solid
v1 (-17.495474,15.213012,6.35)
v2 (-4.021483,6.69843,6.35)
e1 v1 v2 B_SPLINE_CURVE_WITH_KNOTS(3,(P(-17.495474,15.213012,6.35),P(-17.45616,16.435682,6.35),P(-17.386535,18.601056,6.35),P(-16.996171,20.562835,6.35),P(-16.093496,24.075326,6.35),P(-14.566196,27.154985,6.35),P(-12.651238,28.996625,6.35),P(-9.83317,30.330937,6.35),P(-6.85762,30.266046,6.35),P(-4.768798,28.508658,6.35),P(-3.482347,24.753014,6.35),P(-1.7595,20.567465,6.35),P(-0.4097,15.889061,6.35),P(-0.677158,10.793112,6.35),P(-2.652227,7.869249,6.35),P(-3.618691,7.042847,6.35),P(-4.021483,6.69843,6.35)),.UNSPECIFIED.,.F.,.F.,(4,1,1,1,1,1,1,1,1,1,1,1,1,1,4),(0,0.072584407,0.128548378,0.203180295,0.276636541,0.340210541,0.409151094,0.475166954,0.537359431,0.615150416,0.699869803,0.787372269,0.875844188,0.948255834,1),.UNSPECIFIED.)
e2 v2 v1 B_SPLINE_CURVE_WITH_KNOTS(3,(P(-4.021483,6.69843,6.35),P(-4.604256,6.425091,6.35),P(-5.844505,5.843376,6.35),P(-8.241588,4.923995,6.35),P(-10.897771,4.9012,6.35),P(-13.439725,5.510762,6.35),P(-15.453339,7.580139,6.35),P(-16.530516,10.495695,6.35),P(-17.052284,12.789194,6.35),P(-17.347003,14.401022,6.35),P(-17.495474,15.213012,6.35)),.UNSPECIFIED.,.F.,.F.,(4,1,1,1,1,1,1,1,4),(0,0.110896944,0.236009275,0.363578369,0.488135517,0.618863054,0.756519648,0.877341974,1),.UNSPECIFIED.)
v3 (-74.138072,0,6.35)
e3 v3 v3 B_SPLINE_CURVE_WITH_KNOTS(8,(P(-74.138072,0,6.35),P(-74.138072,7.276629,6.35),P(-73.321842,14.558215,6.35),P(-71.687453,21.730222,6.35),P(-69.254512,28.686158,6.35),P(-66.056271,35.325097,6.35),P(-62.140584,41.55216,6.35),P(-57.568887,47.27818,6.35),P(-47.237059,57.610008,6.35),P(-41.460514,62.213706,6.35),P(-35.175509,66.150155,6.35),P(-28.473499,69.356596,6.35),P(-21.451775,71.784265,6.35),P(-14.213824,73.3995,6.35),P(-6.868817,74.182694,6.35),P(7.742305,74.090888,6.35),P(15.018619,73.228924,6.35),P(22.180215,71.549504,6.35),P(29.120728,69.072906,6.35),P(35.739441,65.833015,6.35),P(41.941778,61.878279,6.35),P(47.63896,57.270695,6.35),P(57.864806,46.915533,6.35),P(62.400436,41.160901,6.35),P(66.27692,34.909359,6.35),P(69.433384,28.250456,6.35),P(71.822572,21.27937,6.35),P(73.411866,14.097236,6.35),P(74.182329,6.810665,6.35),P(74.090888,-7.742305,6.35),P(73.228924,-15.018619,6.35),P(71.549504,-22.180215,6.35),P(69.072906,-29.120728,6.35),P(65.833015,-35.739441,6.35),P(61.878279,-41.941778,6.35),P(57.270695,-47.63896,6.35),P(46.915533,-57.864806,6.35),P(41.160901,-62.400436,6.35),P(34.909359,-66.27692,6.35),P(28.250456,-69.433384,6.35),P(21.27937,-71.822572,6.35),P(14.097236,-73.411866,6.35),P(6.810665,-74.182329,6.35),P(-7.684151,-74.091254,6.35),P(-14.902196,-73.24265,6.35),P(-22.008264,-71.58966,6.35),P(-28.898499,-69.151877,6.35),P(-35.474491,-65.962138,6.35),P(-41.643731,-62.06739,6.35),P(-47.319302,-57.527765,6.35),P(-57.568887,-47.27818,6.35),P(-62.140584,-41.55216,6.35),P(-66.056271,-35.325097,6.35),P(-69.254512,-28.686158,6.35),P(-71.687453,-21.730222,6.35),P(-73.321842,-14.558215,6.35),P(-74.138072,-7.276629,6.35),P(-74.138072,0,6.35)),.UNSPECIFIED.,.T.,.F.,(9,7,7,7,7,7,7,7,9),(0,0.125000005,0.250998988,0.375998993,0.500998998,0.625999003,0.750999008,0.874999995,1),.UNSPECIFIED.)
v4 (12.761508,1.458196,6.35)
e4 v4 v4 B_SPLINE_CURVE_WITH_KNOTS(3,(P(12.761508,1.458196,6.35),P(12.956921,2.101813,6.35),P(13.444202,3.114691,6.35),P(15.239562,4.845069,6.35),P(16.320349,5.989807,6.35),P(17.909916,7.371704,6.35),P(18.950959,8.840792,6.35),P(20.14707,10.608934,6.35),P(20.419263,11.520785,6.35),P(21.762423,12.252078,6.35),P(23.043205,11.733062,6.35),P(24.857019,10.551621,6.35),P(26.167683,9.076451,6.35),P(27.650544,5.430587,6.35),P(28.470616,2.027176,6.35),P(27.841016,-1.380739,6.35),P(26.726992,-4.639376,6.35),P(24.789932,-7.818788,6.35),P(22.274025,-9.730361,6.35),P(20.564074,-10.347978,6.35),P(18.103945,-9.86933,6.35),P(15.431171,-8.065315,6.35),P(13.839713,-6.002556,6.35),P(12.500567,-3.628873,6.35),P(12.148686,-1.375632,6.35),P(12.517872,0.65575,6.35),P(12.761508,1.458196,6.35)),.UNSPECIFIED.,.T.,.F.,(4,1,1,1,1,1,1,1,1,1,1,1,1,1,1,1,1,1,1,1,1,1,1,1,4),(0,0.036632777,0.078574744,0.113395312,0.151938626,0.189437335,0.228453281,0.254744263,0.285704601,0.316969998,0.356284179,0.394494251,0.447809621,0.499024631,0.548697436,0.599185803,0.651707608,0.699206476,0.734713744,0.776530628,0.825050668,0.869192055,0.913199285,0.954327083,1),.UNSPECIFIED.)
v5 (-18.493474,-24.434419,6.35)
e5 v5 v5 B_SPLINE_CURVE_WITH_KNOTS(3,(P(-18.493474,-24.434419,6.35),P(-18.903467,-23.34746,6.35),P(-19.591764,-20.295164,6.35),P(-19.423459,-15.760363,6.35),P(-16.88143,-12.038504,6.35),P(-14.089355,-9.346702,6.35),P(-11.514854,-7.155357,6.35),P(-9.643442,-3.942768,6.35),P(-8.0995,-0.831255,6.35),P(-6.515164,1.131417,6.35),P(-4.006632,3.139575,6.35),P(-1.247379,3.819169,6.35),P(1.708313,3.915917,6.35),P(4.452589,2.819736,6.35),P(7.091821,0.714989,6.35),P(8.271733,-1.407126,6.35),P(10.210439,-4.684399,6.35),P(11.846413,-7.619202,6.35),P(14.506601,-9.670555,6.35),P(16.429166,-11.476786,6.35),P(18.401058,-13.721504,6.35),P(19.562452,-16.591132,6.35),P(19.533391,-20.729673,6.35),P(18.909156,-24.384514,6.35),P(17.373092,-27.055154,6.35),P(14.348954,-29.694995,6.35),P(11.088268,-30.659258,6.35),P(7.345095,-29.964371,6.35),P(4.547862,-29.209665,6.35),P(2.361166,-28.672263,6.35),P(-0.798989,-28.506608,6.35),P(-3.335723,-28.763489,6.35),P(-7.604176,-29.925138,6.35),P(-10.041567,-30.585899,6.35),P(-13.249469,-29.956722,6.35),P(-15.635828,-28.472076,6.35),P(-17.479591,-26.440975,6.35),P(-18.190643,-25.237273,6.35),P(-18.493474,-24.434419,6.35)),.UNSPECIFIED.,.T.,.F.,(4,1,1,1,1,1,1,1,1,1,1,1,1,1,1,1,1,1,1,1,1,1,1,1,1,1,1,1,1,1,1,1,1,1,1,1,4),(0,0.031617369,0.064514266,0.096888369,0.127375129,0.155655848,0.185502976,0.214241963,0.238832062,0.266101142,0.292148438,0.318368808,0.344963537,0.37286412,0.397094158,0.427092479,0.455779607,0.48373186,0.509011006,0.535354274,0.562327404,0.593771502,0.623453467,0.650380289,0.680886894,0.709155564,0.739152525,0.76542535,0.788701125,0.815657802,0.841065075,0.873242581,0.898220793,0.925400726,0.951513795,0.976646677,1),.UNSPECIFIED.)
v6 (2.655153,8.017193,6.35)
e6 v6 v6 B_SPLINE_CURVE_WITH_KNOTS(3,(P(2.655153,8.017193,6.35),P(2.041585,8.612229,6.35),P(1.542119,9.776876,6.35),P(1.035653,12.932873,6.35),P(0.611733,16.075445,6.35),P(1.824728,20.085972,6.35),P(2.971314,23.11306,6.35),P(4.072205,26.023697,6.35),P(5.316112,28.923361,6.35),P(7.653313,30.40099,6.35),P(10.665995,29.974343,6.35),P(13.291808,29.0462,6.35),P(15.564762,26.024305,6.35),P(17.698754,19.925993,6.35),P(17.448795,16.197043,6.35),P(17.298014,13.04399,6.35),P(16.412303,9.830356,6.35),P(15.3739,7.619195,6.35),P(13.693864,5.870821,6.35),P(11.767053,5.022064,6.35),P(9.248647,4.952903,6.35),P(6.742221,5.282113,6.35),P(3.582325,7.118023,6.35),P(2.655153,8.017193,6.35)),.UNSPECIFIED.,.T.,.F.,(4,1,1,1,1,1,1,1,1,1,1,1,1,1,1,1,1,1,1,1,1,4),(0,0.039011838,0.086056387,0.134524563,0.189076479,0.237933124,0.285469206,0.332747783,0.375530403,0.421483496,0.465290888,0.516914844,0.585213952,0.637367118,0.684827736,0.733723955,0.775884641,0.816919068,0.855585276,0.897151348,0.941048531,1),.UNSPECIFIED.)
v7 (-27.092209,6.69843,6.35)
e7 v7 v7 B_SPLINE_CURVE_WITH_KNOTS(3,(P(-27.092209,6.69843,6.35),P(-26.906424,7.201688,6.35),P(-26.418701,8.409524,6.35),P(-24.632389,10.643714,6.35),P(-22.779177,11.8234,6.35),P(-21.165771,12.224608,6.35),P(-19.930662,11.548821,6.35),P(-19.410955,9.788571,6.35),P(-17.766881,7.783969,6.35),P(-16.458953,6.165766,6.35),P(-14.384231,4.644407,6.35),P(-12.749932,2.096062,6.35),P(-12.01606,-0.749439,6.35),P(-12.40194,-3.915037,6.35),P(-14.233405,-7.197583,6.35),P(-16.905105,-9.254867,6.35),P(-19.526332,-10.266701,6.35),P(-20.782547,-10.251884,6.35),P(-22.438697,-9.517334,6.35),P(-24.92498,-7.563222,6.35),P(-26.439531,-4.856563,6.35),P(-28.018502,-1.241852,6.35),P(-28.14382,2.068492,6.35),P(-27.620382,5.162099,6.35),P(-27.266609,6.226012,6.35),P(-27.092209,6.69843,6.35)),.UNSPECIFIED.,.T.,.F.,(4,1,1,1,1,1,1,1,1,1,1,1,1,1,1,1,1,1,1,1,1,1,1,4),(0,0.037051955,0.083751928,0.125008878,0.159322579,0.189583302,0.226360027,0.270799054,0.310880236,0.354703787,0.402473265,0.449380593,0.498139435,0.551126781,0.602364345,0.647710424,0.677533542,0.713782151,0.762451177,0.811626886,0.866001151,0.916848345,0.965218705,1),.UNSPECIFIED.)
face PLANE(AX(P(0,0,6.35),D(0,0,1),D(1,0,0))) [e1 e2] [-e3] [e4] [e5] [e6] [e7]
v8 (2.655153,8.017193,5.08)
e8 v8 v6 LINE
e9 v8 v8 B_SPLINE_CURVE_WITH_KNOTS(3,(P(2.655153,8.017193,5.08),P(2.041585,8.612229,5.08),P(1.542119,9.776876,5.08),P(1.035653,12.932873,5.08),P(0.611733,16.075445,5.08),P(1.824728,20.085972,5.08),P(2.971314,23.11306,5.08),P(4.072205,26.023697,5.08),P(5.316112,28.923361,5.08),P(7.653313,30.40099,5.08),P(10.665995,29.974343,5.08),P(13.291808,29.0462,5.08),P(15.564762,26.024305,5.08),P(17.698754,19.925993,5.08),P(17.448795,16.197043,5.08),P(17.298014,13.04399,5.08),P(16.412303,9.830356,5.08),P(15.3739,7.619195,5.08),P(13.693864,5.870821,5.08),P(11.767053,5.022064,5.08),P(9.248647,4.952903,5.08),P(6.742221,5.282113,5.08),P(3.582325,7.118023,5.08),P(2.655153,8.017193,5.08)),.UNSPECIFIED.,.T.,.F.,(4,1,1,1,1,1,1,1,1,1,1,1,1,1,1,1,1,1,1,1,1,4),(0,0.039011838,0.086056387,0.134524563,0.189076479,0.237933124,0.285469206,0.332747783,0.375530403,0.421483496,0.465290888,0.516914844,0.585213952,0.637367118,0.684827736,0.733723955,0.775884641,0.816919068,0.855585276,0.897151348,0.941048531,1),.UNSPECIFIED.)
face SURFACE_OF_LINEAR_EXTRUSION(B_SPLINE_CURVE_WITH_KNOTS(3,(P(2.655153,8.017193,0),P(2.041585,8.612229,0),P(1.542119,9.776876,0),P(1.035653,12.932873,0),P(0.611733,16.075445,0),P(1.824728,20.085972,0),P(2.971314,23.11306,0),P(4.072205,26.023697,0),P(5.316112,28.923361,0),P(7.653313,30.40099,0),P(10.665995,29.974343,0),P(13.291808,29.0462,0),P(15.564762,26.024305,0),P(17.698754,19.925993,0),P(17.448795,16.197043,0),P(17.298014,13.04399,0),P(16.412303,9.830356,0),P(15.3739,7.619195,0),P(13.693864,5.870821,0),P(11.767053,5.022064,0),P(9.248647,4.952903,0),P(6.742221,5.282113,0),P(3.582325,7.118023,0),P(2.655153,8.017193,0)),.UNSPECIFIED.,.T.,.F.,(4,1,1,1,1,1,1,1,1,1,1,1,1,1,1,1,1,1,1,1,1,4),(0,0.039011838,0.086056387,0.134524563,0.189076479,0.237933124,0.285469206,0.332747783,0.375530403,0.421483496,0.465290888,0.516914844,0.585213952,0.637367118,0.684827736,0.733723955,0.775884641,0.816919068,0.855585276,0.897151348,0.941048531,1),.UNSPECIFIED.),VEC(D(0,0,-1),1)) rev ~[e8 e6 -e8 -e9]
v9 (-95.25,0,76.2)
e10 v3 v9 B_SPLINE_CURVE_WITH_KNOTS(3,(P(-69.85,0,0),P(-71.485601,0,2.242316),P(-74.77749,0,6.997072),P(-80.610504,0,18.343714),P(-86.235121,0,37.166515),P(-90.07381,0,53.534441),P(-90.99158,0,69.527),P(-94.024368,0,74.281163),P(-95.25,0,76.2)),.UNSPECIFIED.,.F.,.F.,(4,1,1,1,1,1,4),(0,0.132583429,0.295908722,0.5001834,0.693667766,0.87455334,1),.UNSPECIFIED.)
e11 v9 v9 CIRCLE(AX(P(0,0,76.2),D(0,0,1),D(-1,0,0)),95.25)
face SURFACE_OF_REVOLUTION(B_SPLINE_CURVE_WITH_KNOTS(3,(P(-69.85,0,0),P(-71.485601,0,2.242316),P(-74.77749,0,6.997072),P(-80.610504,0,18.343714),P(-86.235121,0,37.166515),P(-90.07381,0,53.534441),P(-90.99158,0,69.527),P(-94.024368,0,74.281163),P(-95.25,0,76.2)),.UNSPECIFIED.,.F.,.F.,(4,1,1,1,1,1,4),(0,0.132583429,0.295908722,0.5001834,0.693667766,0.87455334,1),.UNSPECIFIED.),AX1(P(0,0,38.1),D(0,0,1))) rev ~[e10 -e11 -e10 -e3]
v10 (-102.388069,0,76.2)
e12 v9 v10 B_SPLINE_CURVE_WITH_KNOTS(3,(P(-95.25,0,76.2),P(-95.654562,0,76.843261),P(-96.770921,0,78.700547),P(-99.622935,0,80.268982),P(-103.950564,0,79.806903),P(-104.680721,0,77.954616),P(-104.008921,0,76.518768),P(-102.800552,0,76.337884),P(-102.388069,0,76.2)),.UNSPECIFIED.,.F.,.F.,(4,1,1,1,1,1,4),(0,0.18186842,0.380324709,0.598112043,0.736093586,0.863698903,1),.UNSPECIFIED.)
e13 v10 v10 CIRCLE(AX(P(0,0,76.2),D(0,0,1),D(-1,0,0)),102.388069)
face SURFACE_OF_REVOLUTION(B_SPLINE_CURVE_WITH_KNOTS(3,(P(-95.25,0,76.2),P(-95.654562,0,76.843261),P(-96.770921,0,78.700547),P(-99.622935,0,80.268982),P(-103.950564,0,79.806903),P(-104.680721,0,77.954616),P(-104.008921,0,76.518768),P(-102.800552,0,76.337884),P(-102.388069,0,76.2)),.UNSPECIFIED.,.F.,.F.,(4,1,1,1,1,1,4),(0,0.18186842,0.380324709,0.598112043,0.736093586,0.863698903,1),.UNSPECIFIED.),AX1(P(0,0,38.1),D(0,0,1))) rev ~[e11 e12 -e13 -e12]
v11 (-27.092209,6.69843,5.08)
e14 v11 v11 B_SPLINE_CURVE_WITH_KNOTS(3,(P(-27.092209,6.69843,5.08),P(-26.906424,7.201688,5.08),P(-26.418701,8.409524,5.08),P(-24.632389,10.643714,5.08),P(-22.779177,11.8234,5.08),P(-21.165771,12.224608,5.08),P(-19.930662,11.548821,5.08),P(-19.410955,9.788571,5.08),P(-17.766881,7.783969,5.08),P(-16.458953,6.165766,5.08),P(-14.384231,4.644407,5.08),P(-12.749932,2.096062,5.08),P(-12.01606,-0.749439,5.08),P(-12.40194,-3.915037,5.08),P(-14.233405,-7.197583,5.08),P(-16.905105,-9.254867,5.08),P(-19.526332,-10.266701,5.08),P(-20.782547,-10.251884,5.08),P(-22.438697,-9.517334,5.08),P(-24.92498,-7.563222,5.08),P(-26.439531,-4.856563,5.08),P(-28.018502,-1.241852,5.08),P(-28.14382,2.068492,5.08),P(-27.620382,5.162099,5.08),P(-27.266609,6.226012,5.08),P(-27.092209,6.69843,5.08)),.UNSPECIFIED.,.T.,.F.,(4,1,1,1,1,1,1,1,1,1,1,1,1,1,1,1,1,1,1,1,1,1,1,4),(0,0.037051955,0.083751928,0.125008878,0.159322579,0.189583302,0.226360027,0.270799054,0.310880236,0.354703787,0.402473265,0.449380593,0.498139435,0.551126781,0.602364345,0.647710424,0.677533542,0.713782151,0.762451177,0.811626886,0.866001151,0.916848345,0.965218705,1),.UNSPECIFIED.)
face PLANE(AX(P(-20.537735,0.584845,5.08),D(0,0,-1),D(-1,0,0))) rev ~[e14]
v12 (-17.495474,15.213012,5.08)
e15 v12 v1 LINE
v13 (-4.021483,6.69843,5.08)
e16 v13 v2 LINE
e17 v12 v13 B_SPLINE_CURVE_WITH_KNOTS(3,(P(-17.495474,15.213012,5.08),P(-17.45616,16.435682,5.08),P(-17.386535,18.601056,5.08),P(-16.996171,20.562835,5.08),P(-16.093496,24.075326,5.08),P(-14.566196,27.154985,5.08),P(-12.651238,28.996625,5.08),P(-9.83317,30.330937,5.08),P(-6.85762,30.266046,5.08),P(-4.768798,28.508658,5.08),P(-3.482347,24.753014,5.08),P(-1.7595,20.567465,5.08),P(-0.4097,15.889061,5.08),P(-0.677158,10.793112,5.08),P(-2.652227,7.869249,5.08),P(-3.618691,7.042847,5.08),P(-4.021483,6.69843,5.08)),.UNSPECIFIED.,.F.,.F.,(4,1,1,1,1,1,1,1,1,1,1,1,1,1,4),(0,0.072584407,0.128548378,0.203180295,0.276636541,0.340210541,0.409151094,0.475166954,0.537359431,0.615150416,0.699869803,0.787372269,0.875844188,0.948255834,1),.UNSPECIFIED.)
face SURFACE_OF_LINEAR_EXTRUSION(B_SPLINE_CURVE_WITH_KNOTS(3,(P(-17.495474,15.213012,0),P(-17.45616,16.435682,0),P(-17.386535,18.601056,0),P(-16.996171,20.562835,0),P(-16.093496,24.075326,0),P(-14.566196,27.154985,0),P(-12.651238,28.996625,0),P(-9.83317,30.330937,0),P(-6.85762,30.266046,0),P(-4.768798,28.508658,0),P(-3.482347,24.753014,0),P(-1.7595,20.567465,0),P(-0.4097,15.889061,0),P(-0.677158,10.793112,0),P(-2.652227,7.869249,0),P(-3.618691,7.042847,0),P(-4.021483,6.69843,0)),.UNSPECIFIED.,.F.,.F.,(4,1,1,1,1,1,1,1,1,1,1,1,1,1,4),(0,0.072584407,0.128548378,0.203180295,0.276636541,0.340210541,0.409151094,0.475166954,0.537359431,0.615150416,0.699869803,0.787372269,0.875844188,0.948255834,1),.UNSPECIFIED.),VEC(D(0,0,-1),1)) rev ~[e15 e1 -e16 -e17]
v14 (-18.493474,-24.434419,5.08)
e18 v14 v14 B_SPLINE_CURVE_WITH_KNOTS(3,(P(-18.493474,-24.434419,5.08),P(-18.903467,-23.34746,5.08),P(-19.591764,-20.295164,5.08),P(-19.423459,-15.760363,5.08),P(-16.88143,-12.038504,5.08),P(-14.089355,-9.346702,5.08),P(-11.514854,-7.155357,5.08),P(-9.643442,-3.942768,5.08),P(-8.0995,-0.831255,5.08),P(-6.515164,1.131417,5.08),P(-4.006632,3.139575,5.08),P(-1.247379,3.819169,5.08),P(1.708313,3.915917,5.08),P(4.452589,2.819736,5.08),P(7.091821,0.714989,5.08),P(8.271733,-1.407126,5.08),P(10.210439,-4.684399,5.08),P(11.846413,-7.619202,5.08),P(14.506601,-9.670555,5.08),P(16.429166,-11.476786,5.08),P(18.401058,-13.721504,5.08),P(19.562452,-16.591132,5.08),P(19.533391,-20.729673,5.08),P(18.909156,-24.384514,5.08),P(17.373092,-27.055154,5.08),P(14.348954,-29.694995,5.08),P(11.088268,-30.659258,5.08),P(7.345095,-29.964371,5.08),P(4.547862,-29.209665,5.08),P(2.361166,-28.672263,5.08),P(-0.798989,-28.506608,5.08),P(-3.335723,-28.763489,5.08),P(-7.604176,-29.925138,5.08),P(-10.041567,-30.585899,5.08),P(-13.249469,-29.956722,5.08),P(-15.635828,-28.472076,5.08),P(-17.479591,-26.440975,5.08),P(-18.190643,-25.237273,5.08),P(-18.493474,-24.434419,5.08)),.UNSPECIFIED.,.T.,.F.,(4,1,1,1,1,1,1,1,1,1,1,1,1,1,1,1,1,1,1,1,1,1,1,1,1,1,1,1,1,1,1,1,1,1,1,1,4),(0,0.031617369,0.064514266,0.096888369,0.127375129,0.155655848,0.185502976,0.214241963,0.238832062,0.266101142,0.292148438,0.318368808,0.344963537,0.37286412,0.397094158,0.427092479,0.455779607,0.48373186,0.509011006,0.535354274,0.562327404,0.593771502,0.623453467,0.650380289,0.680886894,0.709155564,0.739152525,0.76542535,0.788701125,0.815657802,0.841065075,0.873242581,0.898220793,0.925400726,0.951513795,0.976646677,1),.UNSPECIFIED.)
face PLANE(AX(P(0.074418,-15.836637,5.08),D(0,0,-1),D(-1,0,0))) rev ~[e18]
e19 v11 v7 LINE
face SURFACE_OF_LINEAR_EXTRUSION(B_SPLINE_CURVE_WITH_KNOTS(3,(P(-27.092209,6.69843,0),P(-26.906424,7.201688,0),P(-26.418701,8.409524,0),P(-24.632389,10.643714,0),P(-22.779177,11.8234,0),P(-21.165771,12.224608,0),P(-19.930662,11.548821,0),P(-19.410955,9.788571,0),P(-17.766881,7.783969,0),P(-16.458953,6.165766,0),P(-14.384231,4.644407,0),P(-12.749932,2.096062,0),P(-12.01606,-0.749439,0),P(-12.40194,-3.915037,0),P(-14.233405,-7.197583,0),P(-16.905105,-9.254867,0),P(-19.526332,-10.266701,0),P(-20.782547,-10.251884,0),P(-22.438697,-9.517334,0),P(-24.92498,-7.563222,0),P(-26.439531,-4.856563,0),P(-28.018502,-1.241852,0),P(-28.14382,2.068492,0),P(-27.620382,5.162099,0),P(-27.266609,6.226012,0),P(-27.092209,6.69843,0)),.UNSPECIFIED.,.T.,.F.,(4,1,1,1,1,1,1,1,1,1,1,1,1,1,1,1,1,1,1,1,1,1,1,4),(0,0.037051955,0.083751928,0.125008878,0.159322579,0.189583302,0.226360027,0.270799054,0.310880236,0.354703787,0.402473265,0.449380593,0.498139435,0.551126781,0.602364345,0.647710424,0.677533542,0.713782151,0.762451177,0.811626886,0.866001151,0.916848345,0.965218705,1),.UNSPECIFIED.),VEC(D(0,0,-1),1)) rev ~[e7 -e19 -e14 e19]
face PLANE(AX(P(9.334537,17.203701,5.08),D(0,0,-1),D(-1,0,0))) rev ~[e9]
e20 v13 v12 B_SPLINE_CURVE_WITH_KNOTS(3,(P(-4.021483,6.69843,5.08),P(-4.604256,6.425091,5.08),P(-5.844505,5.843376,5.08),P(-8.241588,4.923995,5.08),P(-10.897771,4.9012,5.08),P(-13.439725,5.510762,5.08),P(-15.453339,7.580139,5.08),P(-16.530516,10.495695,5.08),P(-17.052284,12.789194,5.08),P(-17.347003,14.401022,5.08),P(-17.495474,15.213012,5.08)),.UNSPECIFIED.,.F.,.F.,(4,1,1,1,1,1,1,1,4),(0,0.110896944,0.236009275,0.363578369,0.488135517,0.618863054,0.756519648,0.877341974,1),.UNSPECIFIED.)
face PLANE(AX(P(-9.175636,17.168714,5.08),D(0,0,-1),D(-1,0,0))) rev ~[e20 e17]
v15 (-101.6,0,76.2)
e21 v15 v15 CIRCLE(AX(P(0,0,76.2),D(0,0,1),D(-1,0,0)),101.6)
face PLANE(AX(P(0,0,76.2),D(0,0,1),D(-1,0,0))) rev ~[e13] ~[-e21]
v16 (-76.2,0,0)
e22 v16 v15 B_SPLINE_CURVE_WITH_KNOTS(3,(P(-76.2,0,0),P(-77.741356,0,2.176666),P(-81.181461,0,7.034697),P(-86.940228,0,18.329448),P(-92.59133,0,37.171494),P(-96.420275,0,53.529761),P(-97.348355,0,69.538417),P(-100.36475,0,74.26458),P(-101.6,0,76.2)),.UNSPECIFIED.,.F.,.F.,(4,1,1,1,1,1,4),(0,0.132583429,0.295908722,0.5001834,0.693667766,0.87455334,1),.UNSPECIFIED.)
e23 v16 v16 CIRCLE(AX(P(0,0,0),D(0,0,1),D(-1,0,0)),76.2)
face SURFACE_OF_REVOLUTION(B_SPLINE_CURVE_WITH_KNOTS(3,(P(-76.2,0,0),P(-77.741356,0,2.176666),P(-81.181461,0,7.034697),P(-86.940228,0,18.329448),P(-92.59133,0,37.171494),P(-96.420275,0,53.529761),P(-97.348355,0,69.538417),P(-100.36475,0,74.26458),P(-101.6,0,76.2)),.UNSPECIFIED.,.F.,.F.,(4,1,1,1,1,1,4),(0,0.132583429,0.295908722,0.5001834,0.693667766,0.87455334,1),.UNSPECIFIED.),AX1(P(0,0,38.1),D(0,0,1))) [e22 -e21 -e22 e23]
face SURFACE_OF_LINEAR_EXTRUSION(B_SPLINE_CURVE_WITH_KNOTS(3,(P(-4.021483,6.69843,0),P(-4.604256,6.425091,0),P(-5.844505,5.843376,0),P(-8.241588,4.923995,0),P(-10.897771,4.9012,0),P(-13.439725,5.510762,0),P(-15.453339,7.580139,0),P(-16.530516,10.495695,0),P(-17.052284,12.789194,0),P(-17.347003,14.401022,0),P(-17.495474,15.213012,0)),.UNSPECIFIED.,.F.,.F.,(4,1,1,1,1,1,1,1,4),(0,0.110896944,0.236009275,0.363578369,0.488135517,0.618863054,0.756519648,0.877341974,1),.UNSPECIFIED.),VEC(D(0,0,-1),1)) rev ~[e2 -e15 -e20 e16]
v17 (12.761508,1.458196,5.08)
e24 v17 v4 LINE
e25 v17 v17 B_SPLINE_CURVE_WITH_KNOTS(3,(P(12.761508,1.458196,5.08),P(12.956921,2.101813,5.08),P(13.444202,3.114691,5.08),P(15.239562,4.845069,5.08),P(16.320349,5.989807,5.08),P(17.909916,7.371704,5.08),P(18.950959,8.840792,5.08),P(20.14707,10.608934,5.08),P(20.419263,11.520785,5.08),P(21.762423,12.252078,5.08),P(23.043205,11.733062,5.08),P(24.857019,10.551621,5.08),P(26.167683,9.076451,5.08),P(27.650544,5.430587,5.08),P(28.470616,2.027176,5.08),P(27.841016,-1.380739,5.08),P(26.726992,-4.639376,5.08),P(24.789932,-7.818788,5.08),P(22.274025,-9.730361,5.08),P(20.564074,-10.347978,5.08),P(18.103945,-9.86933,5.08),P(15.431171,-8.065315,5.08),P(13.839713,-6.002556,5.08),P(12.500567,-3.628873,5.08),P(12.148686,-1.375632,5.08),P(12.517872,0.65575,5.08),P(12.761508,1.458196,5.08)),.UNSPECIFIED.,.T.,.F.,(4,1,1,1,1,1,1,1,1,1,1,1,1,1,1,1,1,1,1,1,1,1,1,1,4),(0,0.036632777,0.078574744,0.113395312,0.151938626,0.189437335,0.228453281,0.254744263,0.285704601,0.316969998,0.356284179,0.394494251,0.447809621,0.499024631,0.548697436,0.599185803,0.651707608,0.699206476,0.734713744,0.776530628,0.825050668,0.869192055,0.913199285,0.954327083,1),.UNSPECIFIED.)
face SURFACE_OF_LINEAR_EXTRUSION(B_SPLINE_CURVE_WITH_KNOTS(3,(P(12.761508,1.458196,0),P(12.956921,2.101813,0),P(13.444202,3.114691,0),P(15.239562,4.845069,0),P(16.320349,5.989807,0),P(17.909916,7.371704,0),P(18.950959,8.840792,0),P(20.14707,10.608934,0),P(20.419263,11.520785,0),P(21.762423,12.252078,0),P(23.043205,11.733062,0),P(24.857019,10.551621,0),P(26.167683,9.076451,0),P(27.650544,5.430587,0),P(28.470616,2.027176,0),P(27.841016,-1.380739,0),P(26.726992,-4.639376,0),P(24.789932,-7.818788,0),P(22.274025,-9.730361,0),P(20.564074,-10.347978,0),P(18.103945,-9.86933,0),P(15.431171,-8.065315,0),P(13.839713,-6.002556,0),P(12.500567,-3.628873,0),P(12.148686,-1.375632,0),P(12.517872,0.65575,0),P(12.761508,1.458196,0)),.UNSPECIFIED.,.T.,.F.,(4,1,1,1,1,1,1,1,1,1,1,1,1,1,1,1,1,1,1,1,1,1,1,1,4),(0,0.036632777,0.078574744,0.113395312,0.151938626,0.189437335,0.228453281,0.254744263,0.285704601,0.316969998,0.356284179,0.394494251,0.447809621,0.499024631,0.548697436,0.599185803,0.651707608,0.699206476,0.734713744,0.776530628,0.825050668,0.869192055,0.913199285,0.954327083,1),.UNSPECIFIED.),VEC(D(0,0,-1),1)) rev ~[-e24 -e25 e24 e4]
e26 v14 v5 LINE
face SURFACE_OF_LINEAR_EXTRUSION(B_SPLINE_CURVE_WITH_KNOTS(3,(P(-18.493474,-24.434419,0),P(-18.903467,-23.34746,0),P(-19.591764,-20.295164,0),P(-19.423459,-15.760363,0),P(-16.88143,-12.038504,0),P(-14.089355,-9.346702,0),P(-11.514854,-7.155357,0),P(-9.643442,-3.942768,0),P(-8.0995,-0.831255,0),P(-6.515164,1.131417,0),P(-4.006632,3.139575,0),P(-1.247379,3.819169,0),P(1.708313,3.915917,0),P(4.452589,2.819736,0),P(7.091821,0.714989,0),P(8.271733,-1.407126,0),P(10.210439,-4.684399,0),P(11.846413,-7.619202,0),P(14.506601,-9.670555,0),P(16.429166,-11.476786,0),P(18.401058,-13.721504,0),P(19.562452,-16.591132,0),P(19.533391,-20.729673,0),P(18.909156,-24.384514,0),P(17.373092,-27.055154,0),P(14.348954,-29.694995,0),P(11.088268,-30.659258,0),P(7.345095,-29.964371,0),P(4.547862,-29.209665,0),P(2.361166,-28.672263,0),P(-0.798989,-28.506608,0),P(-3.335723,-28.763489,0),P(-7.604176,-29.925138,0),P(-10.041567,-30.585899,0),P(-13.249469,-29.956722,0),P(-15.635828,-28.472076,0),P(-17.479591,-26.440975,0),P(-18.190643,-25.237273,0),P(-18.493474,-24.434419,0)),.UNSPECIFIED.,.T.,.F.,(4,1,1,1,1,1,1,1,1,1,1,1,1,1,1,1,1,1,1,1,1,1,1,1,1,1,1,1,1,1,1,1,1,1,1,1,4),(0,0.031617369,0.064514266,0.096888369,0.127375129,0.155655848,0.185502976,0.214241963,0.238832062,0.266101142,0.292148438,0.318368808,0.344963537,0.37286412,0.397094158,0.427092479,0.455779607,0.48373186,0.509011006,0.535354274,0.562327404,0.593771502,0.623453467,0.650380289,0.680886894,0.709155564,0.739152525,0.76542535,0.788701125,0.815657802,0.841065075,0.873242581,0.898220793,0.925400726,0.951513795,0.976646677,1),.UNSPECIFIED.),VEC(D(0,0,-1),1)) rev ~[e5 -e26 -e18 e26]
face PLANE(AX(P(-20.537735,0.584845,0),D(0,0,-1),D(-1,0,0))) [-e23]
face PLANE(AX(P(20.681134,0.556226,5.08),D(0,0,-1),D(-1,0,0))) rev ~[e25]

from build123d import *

# Parameters (mm, degrees)
F0_R     = 76.2
F0_R_2   = 73.025
F1_DEPTH = 6.35
F2_DEPTH = 5.08


with BuildPart() as f1:
    # F0 (on Top) → F1 (new body)
    with BuildSketch(Plane.XY):
        Circle(F0_R)
        Circle(F0_R_2, mode=Mode.SUBTRACT)
        Circle(F0_R_2)
        with BuildLine():
            add(Edge.make_bspline(
                [(-18.4934735298, -24.4344193488), (-18.9034670115, -23.3474597731), (-19.5917640548, -20.2951636147), (-19.4234590082, -15.7603633236), (-16.8814295255, -12.0385042312), (-14.08935451, -9.3467016476), (-11.5148539923, -7.1553565583), (-9.6434418125, -3.9427675163), (-8.0995000702, -0.8312551659), (-6.5151638628, 1.1314170066), (-4.0066315907, 3.139574537), (-1.2473791364, 3.8191693743), (1.7083134074, 3.9159171999), (4.4525887912, 2.8197358184), (7.0918213051, 0.7149886211), (8.2717325755, -1.407125935), (10.2104385083, -4.6843993846), (11.8464128715, -7.6192018472), (14.5066008993, -9.670554697), (16.4291664021, -11.4767857382), (18.4010578674, -13.7215037029), (19.562452157, -16.5911324361), (19.5333909632, -20.7296725677), (18.9091556811, -24.3845144775), (17.3730919759, -27.0551536295), (14.3489538995, -29.6949954705), (11.0882679676, -30.6592577199), (7.3450953677, -29.964370628), (4.5478616218, -29.2096646306), (2.3611659003, -28.6722629328), (-0.7989885317, -28.5066079027), (-3.335722799, -28.763489379), (-7.6041761343, -29.9251380879), (-10.041567154, -30.5858993239), (-13.2494692853, -29.9567221745), (-15.6358281562, -28.4720757487), (-17.4795912067, -26.4409745347), (-18.190642818, -25.2372729472), (-18.4934735298, -24.4344193488)],
                knots=[0, 0, 0, 0, 0.0316173687, 0.0645142656, 0.0968883689, 0.1273751291, 0.1556558483, 0.1855029763, 0.2142419626, 0.2388320624, 0.266101142, 0.2921484379, 0.3183688083, 0.3449635369, 0.3728641203, 0.3970941576, 0.4270924787, 0.455779607, 0.4837318602, 0.5090110059, 0.5353542744, 0.562327404, 0.5937715021, 0.6234534668, 0.6503802889, 0.6808868937, 0.7091555642, 0.7391525254, 0.7654253498, 0.7887011254, 0.815657802, 0.8410650755, 0.8732425809, 0.8982207931, 0.9254007262, 0.9515137951, 0.9766466768, 1, 1, 1, 1], degree=3))
        make_face(mode=Mode.SUBTRACT)
        with BuildLine():
            add(Edge.make_bspline(
                [(-27.0922090858, 6.6984295845), (-26.9064236214, 7.2016881707), (-26.4187008888, 8.4095237439), (-24.632388865, 10.6437137028), (-22.7791770772, 11.8233996116), (-21.1657710283, 12.2246084384), (-19.930661779, 11.5488210306), (-19.4109554677, 9.7885706754), (-17.7668810578, 7.783969161), (-16.4589531378, 6.1657663894), (-14.3842306501, 4.6444069096), (-12.7499323192, 2.096062101), (-12.0160596826, -0.7494389975), (-12.4019401398, -3.9150367584), (-14.2334054974, -7.1975826946), (-16.9051053353, -9.2548671628), (-19.5263315007, -10.2667011244), (-20.7825468688, -10.2518840809), (-22.4386967296, -9.5173341414), (-24.9249795836, -7.563222025), (-26.4395312731, -4.8565631316), (-28.0185017534, -1.241851519), (-28.1438201419, 2.0684923371), (-27.6203816617, 5.1620986966), (-27.2666090295, 6.2260122756), (-27.0922090858, 6.6984295845)],
                knots=[0, 0, 0, 0, 0.0370519554, 0.0837519281, 0.1250088777, 0.1593225788, 0.189583302, 0.2263600267, 0.2707990541, 0.3108802359, 0.3547037872, 0.402473265, 0.4493805926, 0.4981394354, 0.5511267813, 0.6023643451, 0.6477104238, 0.6775335416, 0.7137821512, 0.7624511769, 0.8116268863, 0.866001151, 0.916848345, 0.9652187055, 1, 1, 1, 1], degree=3))
        make_face(mode=Mode.SUBTRACT)
        with BuildLine():
            add(Edge.make_bspline(
                [(-4.0214825422, 6.6984295845), (-4.6042555791, 6.4250910434), (-5.8445047433, 5.8433759061), (-8.2415879168, 4.9239951643), (-10.8977706432, 4.9011997738), (-13.4397251888, 5.5107616878), (-15.4533392698, 7.5801394674), (-16.5305164143, 10.4956952753), (-17.0522835817, 12.789193683), (-17.3470030869, 14.4010216534), (-17.4954738468, 15.213011764)],
                knots=[0, 0, 0, 0, 0.110896944, 0.2360092753, 0.3635783693, 0.4881355174, 0.6188630535, 0.7565196482, 0.8773419736, 1, 1, 1, 1], degree=3))
            add(Edge.make_bspline(
                [(-17.4954738468, 15.213011764), (-17.4561601251, 16.4356823794), (-17.3865347695, 18.6010555012), (-16.9961706916, 20.5628348844), (-16.0934956822, 24.0753259107), (-14.5661958131, 27.1549845938), (-12.6512375064, 28.9966251157), (-9.833169788, 30.3309374477), (-6.8576200692, 30.2660460211), (-4.7687983978, 28.5086579451), (-3.4823469523, 24.7530142642), (-1.7595000498, 20.5674650282), (-0.4097002911, 15.8890605215), (-0.6771576154, 10.7931122284), (-2.6522270269, 7.8692485679), (-3.6186912183, 7.0428472064), (-4.0214825422, 6.6984295845)],
                knots=[0, 0, 0, 0, 0.0725844072, 0.128548378, 0.2031802949, 0.2766365415, 0.3402105407, 0.4091510944, 0.4751669543, 0.5373594312, 0.6151504156, 0.6998698032, 0.7873722688, 0.8758441883, 0.9482558338, 1, 1, 1, 1], degree=3))
        make_face(mode=Mode.SUBTRACT)
        with BuildLine():
            add(Edge.make_bspline(
                [(2.6551526971, 8.0171925947), (2.0415851566, 8.6122289292), (1.5421194363, 9.7768756208), (1.0356526929, 12.9328729412), (0.6117333023, 16.0754446389), (1.8247280675, 20.0859719564), (2.9713140226, 23.1130598437), (4.0722047038, 26.0236972574), (5.3161120935, 28.9233606932), (7.6533128317, 30.4009897355), (10.6659945829, 29.9743431498), (13.2918084245, 29.0462001969), (15.5647624935, 26.0243052666), (17.6987542337, 19.9259929029), (17.4487952305, 16.1970432202), (17.2980140998, 13.0439899985), (16.4123028947, 9.8303555389), (15.3739001009, 7.6191946299), (13.6938640371, 5.8708205017), (11.7670526909, 5.0220643842), (9.2486465222, 4.9529028364), (6.7422206596, 5.2821128847), (3.5823253067, 7.1180228136), (2.6551526971, 8.0171925947)],
                knots=[0, 0, 0, 0, 0.0390118384, 0.0860563873, 0.1345245625, 0.1890764788, 0.2379331243, 0.285469206, 0.3327477826, 0.3755304034, 0.421483496, 0.4652908877, 0.5169148443, 0.5852139519, 0.6373671176, 0.6848277358, 0.7337239545, 0.7758846413, 0.8169190677, 0.855585276, 0.8971513482, 0.9410485306, 1, 1, 1, 1], degree=3))
        make_face(mode=Mode.SUBTRACT)
        with BuildLine():
            add(Edge.make_bspline(
                [(12.7615081146, 1.4581960859), (12.9569210128, 2.1018125712), (13.4442020677, 3.1146906939), (15.2395618927, 4.8450692903), (16.3203491756, 5.9898069795), (17.9099164143, 7.3717037169), (18.9509593041, 8.8407923045), (20.1470701122, 10.6089337132), (20.4192629266, 11.5207850484), (21.7624228695, 12.2520783483), (23.0432046759, 11.7330622352), (24.8570185955, 10.5516211064), (26.1676826598, 9.076451103), (27.6505441252, 5.4305872661), (28.4706162152, 2.0271756408), (27.8410164017, -1.3807392795), (26.726992013, -4.6393762782), (24.7899317936, -7.8187880977), (22.2740248825, -9.7303607077), (20.5640741152, -10.3479782638), (18.1039452202, -9.8693297605), (15.4311711544, -8.0653145941), (13.8397125433, -6.0025556542), (12.5005666511, -3.6288732078), (12.1486855275, -1.3756316388), (12.5178717372, 0.6557496231), (12.7615081146, 1.4581960859)],
                knots=[0, 0, 0, 0, 0.0366327768, 0.0785747435, 0.1133953118, 0.1519386262, 0.1894373355, 0.2284532806, 0.2547442631, 0.2857046005, 0.3169699979, 0.3562841793, 0.3944942507, 0.4478096208, 0.4990246312, 0.5486974356, 0.5991858029, 0.651707608, 0.6992064757, 0.7347137441, 0.7765306285, 0.8250506683, 0.8691920548, 0.9131992847, 0.9543270832, 1, 1, 1, 1], degree=3))
        make_face(mode=Mode.SUBTRACT)
    extrude(amount=F1_DEPTH)

    # F0 (on Top) → F2 (join)
    with BuildSketch(Plane.XY):
        with BuildLine():
            add(Edge.make_bspline(
                [(-27.0922090858, 6.6984295845), (-26.9064236214, 7.2016881707), (-26.4187008888, 8.4095237439), (-24.632388865, 10.6437137028), (-22.7791770772, 11.8233996116), (-21.1657710283, 12.2246084384), (-19.930661779, 11.5488210306), (-19.4109554677, 9.7885706754), (-17.7668810578, 7.783969161), (-16.4589531378, 6.1657663894), (-14.3842306501, 4.6444069096), (-12.7499323192, 2.096062101), (-12.0160596826, -0.7494389975), (-12.4019401398, -3.9150367584), (-14.2334054974, -7.1975826946), (-16.9051053353, -9.2548671628), (-19.5263315007, -10.2667011244), (-20.7825468688, -10.2518840809), (-22.4386967296, -9.5173341414), (-24.9249795836, -7.563222025), (-26.4395312731, -4.8565631316), (-28.0185017534, -1.241851519), (-28.1438201419, 2.0684923371), (-27.6203816617, 5.1620986966), (-27.2666090295, 6.2260122756), (-27.0922090858, 6.6984295845)],
                knots=[0, 0, 0, 0, 0.0370519554, 0.0837519281, 0.1250088777, 0.1593225788, 0.189583302, 0.2263600267, 0.2707990541, 0.3108802359, 0.3547037872, 0.402473265, 0.4493805926, 0.4981394354, 0.5511267813, 0.6023643451, 0.6477104238, 0.6775335416, 0.7137821512, 0.7624511769, 0.8116268863, 0.866001151, 0.916848345, 0.9652187055, 1, 1, 1, 1], degree=3))
        make_face()
        with BuildLine():
            add(Edge.make_bspline(
                [(-17.4954738468, 15.213011764), (-17.4561601251, 16.4356823794), (-17.3865347695, 18.6010555012), (-16.9961706916, 20.5628348844), (-16.0934956822, 24.0753259107), (-14.5661958131, 27.1549845938), (-12.6512375064, 28.9966251157), (-9.833169788, 30.3309374477), (-6.8576200692, 30.2660460211), (-4.7687983978, 28.5086579451), (-3.4823469523, 24.7530142642), (-1.7595000498, 20.5674650282), (-0.4097002911, 15.8890605215), (-0.6771576154, 10.7931122284), (-2.6522270269, 7.8692485679), (-3.6186912183, 7.0428472064), (-4.0214825422, 6.6984295845)],
                knots=[0, 0, 0, 0, 0.0725844072, 0.128548378, 0.2031802949, 0.2766365415, 0.3402105407, 0.4091510944, 0.4751669543, 0.5373594312, 0.6151504156, 0.6998698032, 0.7873722688, 0.8758441883, 0.9482558338, 1, 1, 1, 1], degree=3))
            add(Edge.make_bspline(
                [(-4.0214825422, 6.6984295845), (-4.6042555791, 6.4250910434), (-5.8445047433, 5.8433759061), (-8.2415879168, 4.9239951643), (-10.8977706432, 4.9011997738), (-13.4397251888, 5.5107616878), (-15.4533392698, 7.5801394674), (-16.5305164143, 10.4956952753), (-17.0522835817, 12.789193683), (-17.3470030869, 14.4010216534), (-17.4954738468, 15.213011764)],
                knots=[0, 0, 0, 0, 0.110896944, 0.2360092753, 0.3635783693, 0.4881355174, 0.6188630535, 0.7565196482, 0.8773419736, 1, 1, 1, 1], degree=3))
        make_face()
        with BuildLine():
            add(Edge.make_bspline(
                [(2.6551526971, 8.0171925947), (2.0415851566, 8.6122289292), (1.5421194363, 9.7768756208), (1.0356526929, 12.9328729412), (0.6117333023, 16.0754446389), (1.8247280675, 20.0859719564), (2.9713140226, 23.1130598437), (4.0722047038, 26.0236972574), (5.3161120935, 28.9233606932), (7.6533128317, 30.4009897355), (10.6659945829, 29.9743431498), (13.2918084245, 29.0462001969), (15.5647624935, 26.0243052666), (17.6987542337, 19.9259929029), (17.4487952305, 16.1970432202), (17.2980140998, 13.0439899985), (16.4123028947, 9.8303555389), (15.3739001009, 7.6191946299), (13.6938640371, 5.8708205017), (11.7670526909, 5.0220643842), (9.2486465222, 4.9529028364), (6.7422206596, 5.2821128847), (3.5823253067, 7.1180228136), (2.6551526971, 8.0171925947)],
                knots=[0, 0, 0, 0, 0.0390118384, 0.0860563873, 0.1345245625, 0.1890764788, 0.2379331243, 0.285469206, 0.3327477826, 0.3755304034, 0.421483496, 0.4652908877, 0.5169148443, 0.5852139519, 0.6373671176, 0.6848277358, 0.7337239545, 0.7758846413, 0.8169190677, 0.855585276, 0.8971513482, 0.9410485306, 1, 1, 1, 1], degree=3))
        make_face()
        with BuildLine():
            add(Edge.make_bspline(
                [(12.7615081146, 1.4581960859), (12.9569210128, 2.1018125712), (13.4442020677, 3.1146906939), (15.2395618927, 4.8450692903), (16.3203491756, 5.9898069795), (17.9099164143, 7.3717037169), (18.9509593041, 8.8407923045), (20.1470701122, 10.6089337132), (20.4192629266, 11.5207850484), (21.7624228695, 12.2520783483), (23.0432046759, 11.7330622352), (24.8570185955, 10.5516211064), (26.1676826598, 9.076451103), (27.6505441252, 5.4305872661), (28.4706162152, 2.0271756408), (27.8410164017, -1.3807392795), (26.726992013, -4.6393762782), (24.7899317936, -7.8187880977), (22.2740248825, -9.7303607077), (20.5640741152, -10.3479782638), (18.1039452202, -9.8693297605), (15.4311711544, -8.0653145941), (13.8397125433, -6.0025556542), (12.5005666511, -3.6288732078), (12.1486855275, -1.3756316388), (12.5178717372, 0.6557496231), (12.7615081146, 1.4581960859)],
                knots=[0, 0, 0, 0, 0.0366327768, 0.0785747435, 0.1133953118, 0.1519386262, 0.1894373355, 0.2284532806, 0.2547442631, 0.2857046005, 0.3169699979, 0.3562841793, 0.3944942507, 0.4478096208, 0.4990246312, 0.5486974356, 0.5991858029, 0.651707608, 0.6992064757, 0.7347137441, 0.7765306285, 0.8250506683, 0.8691920548, 0.9131992847, 0.9543270832, 1, 1, 1, 1], degree=3))
        make_face()
        with BuildLine():
            add(Edge.make_bspline(
                [(-18.4934735298, -24.4344193488), (-18.9034670115, -23.3474597731), (-19.5917640548, -20.2951636147), (-19.4234590082, -15.7603633236), (-16.8814295255, -12.0385042312), (-14.08935451, -9.3467016476), (-11.5148539923, -7.1553565583), (-9.6434418125, -3.9427675163), (-8.0995000702, -0.8312551659), (-6.5151638628, 1.1314170066), (-4.0066315907, 3.139574537), (-1.2473791364, 3.8191693743), (1.7083134074, 3.9159171999), (4.4525887912, 2.8197358184), (7.0918213051, 0.7149886211), (8.2717325755, -1.407125935), (10.2104385083, -4.6843993846), (11.8464128715, -7.6192018472), (14.5066008993, -9.670554697), (16.4291664021, -11.4767857382), (18.4010578674, -13.7215037029), (19.562452157, -16.5911324361), (19.5333909632, -20.7296725677), (18.9091556811, -24.3845144775), (17.3730919759, -27.0551536295), (14.3489538995, -29.6949954705), (11.0882679676, -30.6592577199), (7.3450953677, -29.964370628), (4.5478616218, -29.2096646306), (2.3611659003, -28.6722629328), (-0.7989885317, -28.5066079027), (-3.335722799, -28.763489379), (-7.6041761343, -29.9251380879), (-10.041567154, -30.5858993239), (-13.2494692853, -29.9567221745), (-15.6358281562, -28.4720757487), (-17.4795912067, -26.4409745347), (-18.190642818, -25.2372729472), (-18.4934735298, -24.4344193488)],
                knots=[0, 0, 0, 0, 0.0316173687, 0.0645142656, 0.0968883689, 0.1273751291, 0.1556558483, 0.1855029763, 0.2142419626, 0.2388320624, 0.266101142, 0.2921484379, 0.3183688083, 0.3449635369, 0.3728641203, 0.3970941576, 0.4270924787, 0.455779607, 0.4837318602, 0.5090110059, 0.5353542744, 0.562327404, 0.5937715021, 0.6234534668, 0.6503802889, 0.6808868937, 0.7091555642, 0.7391525254, 0.7654253498, 0.7887011254, 0.815657802, 0.8410650755, 0.8732425809, 0.8982207931, 0.9254007262, 0.9515137951, 0.9766466768, 1, 1, 1, 1], degree=3))
        make_face()
    extrude(amount=F2_DEPTH)

    # F3 (on Front) → F4 (revolve)
    with BuildSketch(Plane.XZ):
        with BuildLine():
            add(Edge.make_bspline(
                [(-76.2, 0), (-77.7413564581, 2.1766658073), (-81.1814607226, 7.0346967236), (-86.9402284753, 18.3294484458), (-92.591330302, 37.1714940873), (-96.4202753513, 53.5297613517), (-97.3483549346, 69.5384172955), (-100.3647504766, 74.2645804779), (-101.6, 76.2)],
                knots=[0, 0, 0, 0, 0.1325834289, 0.2959087217, 0.5001833998, 0.6936677665, 0.8745533402, 1, 1, 1, 1], degree=3))
            Line((-76.2, 0), (-69.85, 0))
            add(Edge.make_bspline(
                [(-69.85, 0), (-71.4856013656, 2.2423162591), (-74.7774899846, 6.9970718361), (-80.6105035376, 18.3437136335), (-86.2351213799, 37.1665149301), (-90.0738095663, 53.5344405633), (-90.9915797065, 69.5270000643), (-94.0243675523, 74.2811628963), (-95.25, 76.2)],
                knots=[0, 0, 0, 0, 0.1325834289, 0.2959087217, 0.5001833998, 0.6936677665, 0.8745533402, 1, 1, 1, 1], degree=3))
            Line((-95.25, 76.2), (-101.6, 76.2))
        make_face()
    revolve(axis=Axis((0, 0, 38.1), (0, 0, 1)))

    # F3 (on Front) → F5 (revolve)
    with BuildSketch(Plane.XZ):
        with BuildLine():
            Line((-102.3880690336, 76.2), (-101.6, 76.2))
            Line((-101.6, 76.2), (-95.25, 76.2))
            add(Edge.make_bspline(
                [(-95.25, 76.2), (-95.6545616027, 76.843260848), (-96.7709206446, 78.7005466718), (-99.6229351698, 80.2689820936), (-103.9505636141, 79.806903158), (-104.6807213005, 77.9546160439), (-104.0089211007, 76.5187679805), (-102.800552282, 76.337884441), (-102.3880690336, 76.2)],
                knots=[0, 0, 0, 0, 0.1818684205, 0.3803247086, 0.598112043, 0.7360935858, 0.863698903, 1, 1, 1, 1], degree=3))
        make_face()
    revolve(axis=Axis((0, 0, 38.1), (0, 0, 1)))


solid = f1.part
